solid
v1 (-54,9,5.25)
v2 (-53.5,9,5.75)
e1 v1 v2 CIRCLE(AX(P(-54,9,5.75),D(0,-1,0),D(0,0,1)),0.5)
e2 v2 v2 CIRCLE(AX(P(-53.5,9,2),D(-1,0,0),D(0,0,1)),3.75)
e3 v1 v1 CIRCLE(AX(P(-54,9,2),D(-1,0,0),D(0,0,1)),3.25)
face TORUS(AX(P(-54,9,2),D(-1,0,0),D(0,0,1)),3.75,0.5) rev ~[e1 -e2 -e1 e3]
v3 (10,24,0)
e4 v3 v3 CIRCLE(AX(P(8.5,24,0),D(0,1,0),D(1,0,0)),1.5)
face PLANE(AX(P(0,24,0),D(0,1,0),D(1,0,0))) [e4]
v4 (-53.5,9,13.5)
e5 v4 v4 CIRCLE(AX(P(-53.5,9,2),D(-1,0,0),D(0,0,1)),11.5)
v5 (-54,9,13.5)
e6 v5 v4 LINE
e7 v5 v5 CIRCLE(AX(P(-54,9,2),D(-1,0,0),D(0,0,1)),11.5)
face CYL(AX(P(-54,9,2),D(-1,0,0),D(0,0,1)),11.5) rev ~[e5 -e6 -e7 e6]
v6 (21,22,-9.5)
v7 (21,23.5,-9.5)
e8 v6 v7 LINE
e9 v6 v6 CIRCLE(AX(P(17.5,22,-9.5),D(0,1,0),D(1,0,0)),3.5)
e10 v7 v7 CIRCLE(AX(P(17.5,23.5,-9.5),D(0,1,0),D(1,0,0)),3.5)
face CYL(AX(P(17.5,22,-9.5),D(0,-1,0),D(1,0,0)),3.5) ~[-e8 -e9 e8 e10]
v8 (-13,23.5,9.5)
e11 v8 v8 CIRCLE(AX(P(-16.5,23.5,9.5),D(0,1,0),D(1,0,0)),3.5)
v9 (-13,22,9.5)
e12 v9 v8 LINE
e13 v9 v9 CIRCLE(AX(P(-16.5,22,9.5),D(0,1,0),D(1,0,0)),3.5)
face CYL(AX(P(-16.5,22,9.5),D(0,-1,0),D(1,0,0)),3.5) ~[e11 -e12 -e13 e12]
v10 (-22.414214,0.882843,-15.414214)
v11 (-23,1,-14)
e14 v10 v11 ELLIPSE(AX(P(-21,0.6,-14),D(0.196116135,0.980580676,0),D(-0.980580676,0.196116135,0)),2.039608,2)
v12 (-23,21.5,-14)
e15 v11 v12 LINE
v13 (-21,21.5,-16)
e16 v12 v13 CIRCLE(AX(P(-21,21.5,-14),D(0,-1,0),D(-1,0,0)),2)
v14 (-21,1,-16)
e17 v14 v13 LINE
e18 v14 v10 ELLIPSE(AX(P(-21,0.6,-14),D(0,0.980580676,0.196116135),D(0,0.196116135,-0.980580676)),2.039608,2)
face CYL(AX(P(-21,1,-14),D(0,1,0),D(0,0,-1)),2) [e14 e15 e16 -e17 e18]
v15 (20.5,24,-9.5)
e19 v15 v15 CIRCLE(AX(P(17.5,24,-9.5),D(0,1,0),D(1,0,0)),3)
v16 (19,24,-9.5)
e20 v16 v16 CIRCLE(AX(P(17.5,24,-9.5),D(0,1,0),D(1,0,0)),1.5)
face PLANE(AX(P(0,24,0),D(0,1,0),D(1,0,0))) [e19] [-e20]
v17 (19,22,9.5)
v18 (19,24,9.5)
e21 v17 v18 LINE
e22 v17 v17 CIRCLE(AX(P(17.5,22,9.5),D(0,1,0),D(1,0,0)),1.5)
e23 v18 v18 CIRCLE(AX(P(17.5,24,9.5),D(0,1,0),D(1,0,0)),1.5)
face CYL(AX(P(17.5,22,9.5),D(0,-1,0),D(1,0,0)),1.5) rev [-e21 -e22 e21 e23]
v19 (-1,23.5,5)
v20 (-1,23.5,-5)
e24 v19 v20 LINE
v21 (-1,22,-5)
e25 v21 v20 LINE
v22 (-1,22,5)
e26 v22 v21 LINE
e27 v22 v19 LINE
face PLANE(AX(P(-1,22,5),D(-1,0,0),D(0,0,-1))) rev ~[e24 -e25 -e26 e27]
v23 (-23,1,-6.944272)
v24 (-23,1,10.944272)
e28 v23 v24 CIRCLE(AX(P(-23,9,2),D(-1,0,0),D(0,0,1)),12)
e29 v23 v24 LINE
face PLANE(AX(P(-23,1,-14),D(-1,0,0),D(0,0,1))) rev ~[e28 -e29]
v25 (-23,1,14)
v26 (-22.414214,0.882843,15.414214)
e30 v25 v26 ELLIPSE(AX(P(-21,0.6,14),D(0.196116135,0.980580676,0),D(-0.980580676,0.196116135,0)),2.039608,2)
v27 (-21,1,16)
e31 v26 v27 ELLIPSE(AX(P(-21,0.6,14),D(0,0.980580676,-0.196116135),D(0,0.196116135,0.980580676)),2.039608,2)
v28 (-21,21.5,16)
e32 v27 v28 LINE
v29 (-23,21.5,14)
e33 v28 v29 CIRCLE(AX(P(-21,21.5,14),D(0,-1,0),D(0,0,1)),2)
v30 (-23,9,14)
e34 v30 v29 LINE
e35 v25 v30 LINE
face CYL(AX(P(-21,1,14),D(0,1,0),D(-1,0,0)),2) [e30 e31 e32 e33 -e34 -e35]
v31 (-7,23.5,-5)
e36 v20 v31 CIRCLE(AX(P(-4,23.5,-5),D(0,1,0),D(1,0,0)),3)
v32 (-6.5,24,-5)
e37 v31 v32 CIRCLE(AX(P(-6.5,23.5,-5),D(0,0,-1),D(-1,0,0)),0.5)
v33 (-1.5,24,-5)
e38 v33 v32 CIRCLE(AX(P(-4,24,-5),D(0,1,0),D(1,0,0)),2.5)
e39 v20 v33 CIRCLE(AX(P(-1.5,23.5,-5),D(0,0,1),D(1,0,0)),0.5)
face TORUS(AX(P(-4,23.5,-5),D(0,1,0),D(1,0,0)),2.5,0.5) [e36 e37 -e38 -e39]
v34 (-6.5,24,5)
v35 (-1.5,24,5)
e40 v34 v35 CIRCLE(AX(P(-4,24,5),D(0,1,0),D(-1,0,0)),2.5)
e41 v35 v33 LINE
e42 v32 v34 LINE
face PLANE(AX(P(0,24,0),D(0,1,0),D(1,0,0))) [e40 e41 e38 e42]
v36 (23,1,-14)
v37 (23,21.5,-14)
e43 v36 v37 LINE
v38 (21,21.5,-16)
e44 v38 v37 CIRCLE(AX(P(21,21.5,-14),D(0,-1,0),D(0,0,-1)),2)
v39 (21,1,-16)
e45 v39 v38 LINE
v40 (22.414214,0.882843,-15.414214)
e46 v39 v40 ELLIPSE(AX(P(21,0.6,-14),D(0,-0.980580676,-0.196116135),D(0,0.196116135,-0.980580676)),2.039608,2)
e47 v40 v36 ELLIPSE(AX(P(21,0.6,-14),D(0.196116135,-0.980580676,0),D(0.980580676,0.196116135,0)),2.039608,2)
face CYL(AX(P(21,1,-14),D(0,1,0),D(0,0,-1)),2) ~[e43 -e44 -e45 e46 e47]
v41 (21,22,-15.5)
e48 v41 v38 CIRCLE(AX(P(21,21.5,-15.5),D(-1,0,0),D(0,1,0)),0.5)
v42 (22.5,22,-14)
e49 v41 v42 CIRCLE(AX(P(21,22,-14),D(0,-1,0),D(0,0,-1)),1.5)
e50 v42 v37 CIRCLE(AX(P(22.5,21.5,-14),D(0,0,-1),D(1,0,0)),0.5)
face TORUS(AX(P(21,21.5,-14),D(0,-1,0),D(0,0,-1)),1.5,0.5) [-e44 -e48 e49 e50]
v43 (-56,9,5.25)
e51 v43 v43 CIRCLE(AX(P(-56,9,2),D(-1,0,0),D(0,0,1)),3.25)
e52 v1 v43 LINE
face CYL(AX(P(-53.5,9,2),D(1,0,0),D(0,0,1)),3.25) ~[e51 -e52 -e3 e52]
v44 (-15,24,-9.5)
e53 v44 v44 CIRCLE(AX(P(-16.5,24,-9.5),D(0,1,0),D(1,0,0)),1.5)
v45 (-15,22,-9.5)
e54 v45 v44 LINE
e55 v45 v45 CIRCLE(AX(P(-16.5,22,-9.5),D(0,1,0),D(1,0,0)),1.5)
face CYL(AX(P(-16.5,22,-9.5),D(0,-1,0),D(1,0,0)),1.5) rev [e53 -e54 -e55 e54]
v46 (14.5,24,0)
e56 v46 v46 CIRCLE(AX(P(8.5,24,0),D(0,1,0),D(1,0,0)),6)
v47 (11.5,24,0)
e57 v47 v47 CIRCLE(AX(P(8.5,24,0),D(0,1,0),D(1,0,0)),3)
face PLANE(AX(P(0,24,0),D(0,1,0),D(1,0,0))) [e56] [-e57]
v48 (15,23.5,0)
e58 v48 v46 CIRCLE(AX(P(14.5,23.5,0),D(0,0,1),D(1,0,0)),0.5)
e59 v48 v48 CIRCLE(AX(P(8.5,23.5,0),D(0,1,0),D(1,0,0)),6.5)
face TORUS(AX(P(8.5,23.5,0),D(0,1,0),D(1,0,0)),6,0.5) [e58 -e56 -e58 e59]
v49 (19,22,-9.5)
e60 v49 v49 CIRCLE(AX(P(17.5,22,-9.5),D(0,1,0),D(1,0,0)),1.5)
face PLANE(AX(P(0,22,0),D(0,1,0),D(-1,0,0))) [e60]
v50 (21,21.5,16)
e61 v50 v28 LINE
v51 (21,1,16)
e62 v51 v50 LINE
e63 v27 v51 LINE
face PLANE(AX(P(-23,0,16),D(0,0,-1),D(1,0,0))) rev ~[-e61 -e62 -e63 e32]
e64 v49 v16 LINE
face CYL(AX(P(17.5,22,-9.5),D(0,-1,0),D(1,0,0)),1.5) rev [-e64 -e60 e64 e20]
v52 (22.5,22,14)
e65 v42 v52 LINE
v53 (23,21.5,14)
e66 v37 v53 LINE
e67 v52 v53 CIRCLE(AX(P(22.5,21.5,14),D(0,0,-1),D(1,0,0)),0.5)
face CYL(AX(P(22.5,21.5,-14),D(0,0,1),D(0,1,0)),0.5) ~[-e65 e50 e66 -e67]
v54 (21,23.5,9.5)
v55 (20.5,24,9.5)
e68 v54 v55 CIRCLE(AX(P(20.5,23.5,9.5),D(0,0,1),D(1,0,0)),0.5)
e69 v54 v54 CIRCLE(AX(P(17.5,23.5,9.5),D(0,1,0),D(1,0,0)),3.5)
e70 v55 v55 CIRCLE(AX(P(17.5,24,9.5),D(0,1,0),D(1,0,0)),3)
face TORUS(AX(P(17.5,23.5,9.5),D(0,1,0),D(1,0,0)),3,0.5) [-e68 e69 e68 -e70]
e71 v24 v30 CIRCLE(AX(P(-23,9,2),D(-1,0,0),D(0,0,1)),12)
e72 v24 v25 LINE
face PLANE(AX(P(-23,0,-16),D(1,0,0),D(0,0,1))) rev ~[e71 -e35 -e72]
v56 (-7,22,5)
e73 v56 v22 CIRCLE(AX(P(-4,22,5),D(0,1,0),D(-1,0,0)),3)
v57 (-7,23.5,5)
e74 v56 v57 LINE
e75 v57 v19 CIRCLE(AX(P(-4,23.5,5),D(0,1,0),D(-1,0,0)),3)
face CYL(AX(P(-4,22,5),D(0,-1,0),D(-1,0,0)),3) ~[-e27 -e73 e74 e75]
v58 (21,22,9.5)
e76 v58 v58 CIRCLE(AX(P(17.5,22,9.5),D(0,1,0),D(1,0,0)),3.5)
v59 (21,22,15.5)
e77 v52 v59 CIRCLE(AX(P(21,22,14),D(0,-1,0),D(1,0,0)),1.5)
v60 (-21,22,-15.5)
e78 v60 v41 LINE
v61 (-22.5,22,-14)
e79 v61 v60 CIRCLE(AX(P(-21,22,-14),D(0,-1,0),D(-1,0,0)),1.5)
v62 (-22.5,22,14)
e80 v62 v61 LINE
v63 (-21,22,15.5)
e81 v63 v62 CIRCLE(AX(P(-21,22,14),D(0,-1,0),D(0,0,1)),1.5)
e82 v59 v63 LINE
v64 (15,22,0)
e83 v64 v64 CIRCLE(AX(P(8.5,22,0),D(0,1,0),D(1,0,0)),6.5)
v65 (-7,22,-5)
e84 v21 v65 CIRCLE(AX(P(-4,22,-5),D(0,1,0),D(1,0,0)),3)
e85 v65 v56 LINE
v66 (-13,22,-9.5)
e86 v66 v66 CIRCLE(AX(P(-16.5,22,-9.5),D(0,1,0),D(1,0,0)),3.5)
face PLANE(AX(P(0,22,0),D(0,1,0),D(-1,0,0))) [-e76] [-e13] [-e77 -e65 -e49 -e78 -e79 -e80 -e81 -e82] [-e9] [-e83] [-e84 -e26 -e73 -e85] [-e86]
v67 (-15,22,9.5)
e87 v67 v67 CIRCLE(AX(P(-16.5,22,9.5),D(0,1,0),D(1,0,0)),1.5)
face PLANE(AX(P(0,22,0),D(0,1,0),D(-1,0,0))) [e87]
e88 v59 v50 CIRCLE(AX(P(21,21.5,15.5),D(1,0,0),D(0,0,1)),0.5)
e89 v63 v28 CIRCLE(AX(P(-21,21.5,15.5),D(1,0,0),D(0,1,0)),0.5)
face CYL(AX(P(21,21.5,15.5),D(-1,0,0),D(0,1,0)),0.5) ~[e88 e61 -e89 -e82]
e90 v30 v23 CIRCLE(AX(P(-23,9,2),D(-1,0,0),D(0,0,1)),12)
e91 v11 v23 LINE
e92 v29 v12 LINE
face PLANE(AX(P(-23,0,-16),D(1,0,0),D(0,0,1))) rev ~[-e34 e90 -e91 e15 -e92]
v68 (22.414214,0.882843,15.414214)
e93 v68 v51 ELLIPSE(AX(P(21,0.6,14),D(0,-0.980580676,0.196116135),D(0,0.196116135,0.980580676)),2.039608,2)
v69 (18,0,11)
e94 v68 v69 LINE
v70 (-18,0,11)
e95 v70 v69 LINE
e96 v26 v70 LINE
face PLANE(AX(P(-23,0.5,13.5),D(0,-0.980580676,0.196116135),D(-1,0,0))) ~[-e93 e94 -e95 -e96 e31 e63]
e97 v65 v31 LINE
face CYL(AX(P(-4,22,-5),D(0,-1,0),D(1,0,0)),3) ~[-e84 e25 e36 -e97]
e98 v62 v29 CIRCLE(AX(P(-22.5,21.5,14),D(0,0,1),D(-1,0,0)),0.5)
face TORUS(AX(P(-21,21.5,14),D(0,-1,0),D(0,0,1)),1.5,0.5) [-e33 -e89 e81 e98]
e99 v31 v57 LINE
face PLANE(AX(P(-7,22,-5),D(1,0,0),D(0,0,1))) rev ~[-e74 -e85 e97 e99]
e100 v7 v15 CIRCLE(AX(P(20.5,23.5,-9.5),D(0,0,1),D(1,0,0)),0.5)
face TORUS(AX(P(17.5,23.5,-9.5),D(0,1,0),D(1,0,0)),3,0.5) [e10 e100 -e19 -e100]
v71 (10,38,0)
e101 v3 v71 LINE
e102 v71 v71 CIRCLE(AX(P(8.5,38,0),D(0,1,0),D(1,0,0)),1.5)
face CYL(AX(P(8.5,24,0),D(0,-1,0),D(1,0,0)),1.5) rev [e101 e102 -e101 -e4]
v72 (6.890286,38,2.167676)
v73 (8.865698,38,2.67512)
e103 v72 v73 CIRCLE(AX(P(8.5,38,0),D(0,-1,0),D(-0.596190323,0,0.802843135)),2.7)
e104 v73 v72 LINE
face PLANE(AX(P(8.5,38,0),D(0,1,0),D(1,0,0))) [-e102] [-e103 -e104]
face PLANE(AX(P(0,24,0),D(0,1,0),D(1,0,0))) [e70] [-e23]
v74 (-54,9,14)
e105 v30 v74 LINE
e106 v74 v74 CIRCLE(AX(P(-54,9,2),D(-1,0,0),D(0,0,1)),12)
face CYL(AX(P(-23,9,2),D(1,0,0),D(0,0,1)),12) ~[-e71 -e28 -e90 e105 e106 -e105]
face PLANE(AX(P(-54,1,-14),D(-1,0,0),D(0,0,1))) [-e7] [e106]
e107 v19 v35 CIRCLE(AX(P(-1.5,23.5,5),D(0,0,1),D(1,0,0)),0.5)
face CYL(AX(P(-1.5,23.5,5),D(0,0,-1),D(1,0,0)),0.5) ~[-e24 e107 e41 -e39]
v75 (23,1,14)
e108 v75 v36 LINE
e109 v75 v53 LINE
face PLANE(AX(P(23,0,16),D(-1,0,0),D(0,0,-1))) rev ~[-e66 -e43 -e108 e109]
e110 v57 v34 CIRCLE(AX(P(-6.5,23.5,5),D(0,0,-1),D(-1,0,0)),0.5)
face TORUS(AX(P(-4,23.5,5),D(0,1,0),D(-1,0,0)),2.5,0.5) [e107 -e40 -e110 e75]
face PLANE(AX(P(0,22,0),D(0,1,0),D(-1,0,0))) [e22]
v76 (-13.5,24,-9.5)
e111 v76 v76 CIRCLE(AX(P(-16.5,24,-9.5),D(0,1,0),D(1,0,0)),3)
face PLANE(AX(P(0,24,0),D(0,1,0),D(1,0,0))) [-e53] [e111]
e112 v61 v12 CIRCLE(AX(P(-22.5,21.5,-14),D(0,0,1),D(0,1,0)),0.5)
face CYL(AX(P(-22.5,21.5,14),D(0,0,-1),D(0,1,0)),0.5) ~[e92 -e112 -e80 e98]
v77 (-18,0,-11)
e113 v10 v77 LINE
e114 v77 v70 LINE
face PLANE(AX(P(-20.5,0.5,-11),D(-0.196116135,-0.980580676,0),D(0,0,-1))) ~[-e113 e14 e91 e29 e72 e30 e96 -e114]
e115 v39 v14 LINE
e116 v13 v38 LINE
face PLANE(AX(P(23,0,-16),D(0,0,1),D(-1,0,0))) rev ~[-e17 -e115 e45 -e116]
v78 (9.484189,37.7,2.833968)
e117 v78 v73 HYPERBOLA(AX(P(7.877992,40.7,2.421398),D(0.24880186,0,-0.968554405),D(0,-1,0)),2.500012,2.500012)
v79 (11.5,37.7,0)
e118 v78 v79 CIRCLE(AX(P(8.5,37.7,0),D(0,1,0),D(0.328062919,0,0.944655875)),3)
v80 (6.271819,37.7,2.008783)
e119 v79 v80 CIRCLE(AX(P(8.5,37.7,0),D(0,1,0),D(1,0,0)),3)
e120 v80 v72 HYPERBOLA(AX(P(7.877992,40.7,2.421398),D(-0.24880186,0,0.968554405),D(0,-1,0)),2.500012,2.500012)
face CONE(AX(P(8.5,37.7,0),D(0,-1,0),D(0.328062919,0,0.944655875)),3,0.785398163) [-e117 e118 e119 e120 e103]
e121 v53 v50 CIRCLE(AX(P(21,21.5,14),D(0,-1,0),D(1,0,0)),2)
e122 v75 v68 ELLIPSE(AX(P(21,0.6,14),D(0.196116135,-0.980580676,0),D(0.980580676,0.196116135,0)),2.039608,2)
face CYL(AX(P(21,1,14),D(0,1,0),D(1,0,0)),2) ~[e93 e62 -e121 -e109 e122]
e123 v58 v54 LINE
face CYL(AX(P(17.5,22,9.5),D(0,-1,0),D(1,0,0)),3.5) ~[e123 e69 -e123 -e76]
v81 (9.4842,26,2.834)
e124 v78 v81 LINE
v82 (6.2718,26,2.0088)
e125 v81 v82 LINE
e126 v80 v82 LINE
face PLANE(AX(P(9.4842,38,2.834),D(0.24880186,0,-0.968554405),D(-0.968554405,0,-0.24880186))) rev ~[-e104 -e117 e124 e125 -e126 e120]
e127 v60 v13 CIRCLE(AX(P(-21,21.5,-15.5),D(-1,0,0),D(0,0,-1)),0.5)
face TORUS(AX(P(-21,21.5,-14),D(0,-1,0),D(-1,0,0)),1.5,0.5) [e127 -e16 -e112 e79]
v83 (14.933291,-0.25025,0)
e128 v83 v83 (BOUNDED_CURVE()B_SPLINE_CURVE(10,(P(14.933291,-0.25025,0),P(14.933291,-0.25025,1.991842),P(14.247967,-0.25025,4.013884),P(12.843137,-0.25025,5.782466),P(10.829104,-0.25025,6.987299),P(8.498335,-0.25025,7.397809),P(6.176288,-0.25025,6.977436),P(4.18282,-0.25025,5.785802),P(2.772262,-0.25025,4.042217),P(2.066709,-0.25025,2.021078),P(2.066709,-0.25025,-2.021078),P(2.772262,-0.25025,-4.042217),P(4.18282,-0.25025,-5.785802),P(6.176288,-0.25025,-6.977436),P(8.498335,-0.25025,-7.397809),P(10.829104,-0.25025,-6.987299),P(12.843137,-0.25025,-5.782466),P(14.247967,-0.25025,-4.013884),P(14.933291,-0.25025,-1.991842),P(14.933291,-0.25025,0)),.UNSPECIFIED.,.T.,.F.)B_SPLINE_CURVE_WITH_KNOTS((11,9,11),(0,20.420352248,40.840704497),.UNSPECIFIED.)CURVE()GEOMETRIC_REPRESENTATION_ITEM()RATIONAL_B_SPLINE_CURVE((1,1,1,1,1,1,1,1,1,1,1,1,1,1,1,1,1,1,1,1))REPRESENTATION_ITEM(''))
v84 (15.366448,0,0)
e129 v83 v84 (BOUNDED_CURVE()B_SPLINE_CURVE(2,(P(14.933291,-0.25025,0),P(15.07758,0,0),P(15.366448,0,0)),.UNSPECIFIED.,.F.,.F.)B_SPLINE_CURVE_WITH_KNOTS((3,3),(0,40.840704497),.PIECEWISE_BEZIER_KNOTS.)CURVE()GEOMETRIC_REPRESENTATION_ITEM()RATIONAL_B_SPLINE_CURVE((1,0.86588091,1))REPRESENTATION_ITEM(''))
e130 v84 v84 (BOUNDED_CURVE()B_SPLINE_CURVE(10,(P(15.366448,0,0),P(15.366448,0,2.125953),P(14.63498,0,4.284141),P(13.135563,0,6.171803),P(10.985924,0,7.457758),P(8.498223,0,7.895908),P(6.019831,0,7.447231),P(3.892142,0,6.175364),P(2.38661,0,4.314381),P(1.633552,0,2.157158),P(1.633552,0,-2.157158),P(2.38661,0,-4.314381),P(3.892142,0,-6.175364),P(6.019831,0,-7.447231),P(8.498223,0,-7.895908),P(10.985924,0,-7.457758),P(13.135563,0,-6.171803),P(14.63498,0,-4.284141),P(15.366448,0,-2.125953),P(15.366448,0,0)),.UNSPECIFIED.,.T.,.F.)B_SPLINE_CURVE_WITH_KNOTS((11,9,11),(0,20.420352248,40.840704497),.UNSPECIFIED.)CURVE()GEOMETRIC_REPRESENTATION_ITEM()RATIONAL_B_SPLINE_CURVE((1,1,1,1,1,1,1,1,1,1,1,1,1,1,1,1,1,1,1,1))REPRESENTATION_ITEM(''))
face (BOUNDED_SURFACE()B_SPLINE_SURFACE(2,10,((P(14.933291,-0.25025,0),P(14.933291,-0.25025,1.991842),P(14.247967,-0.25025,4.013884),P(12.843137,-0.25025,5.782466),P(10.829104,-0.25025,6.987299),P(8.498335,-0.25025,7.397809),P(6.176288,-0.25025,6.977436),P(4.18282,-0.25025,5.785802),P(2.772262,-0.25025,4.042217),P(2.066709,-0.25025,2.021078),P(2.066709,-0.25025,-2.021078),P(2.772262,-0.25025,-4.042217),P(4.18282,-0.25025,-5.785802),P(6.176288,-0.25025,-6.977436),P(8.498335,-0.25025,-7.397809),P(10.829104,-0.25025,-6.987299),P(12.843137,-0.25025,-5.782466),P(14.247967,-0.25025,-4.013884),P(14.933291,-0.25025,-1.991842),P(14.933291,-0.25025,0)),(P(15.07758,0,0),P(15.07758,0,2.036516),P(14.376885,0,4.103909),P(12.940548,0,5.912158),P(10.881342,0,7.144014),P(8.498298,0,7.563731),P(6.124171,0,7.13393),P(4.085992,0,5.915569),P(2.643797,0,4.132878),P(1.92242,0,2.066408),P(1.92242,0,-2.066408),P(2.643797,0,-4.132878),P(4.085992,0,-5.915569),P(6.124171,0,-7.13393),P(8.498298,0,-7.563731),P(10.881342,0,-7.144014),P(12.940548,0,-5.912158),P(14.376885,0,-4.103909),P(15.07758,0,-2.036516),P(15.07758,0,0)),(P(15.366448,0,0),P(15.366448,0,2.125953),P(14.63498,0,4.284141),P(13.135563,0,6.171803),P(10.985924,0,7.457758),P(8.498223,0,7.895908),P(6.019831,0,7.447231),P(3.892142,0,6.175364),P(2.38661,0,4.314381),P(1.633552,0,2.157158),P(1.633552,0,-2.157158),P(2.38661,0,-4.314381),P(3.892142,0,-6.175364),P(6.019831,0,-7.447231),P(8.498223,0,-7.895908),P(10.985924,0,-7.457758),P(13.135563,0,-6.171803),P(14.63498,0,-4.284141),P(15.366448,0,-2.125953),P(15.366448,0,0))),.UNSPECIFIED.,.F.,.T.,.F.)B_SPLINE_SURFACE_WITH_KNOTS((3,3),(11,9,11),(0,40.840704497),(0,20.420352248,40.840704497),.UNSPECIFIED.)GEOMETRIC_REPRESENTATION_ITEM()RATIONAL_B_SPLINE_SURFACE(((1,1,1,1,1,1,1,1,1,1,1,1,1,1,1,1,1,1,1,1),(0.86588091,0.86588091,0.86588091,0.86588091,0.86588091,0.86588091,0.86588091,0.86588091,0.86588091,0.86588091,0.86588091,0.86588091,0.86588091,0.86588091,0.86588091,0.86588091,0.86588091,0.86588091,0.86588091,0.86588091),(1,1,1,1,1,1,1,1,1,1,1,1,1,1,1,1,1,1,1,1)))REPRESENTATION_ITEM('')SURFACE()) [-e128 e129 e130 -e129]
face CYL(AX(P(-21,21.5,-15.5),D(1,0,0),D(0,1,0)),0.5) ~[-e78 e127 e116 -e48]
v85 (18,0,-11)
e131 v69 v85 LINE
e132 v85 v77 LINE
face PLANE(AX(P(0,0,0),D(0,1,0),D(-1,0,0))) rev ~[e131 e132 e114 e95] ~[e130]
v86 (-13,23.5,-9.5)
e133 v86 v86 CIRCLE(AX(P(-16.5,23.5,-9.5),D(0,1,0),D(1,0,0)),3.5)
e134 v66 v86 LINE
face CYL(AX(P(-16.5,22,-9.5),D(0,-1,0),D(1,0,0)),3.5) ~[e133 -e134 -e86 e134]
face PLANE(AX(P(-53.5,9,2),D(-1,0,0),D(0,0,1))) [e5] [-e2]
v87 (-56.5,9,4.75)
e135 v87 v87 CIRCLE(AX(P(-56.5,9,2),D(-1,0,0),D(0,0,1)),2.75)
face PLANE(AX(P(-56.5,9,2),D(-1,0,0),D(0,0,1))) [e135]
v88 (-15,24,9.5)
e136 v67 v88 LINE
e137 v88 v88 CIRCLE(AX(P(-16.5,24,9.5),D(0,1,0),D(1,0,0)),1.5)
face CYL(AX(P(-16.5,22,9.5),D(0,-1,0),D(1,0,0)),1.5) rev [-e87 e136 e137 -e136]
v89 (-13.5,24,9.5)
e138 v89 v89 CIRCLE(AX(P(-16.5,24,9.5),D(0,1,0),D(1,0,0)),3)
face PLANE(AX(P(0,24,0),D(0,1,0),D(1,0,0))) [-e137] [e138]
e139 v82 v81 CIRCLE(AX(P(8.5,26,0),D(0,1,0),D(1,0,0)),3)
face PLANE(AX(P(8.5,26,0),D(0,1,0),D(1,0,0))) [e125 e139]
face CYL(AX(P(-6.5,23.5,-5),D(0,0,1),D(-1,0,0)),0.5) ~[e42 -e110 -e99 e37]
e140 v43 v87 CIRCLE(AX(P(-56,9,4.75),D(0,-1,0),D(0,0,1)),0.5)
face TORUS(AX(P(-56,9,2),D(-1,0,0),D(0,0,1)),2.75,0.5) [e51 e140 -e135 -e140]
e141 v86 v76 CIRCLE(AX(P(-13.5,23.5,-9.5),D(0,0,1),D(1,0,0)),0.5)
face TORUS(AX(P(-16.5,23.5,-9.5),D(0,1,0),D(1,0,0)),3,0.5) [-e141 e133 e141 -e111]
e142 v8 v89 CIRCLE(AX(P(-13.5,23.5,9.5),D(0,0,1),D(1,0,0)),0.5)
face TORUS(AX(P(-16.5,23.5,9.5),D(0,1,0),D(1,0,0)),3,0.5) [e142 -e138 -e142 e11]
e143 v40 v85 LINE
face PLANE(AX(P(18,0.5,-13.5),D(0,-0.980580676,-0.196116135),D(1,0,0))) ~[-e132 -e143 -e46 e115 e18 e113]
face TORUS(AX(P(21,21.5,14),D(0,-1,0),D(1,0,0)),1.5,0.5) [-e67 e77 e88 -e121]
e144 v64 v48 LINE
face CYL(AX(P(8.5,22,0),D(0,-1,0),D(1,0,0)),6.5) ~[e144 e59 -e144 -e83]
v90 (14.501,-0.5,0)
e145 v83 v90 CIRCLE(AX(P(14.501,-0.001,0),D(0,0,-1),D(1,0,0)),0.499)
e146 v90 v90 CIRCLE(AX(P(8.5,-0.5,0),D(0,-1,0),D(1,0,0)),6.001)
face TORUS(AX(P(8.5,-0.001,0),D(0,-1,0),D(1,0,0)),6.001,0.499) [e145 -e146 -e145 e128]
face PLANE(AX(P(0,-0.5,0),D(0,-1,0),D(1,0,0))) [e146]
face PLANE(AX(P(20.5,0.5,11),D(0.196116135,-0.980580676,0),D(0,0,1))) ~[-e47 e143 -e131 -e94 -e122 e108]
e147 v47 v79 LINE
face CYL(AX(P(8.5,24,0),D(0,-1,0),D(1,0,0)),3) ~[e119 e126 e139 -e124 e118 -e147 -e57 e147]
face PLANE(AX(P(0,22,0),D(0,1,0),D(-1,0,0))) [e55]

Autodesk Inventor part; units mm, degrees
ref_plane "YZ Plane" through (0, 0, 0) normal (1, 0, 0) x (0, 1, 0)
ref_plane "XZ Plane" through (0, 0, 0) normal (0, 1, 0) x (-1, 0, 0)
ref_plane "XY Plane" through (0, 0, 0) normal (0, 0, 1) x (1, 0, 0)
sketch "Sketch1" plane through (0, 0, 0) normal (0, 1, 0) x (-1, 0, 0)
  line L0 (23, 16) -> (-23, 16)
  line L1 (-23, 16) -> (-23, -16)
  line L2 (-23, -16) -> (23, -16)
  line L3 (23, -16) -> (23, 16)
  line L4 (-23, 16) -> (23, -16) construction
  point P0 (0, 0)
  point P1 (0, 0)
  dimension "d0" = 32
  dimension "d1" = 46
extrude "Extrusion1" add sketch "Sketch1" along normal blind 22
chamfer "Chamfer1" distance 1 distance2 5 1 edges at (0, 0, 16) measured on face at (-7.6667, 14.6667, 16)
chamfer "Chamfer2" distance 1 distance2 5 1 edges at (23, 0, -2.5) measured on face at (23, 14.6667, 3.6667)
chamfer "Chamfer3" distance 1 distance2 5 1 edges at (-2.5, 0, -16) measured on face at (6, 14.6667, -16)
chamfer "Chamfer4" distance 1 distance2 5 1 edges at (-23, 0, 0) measured on face at (-23, 14.6667, 3.6667)
fillet "Fillet1" radius 2 4 edges at (23, 11.5, -16) (23, 11.5, 16) (-23, 11.5, 16) (-23, 11.5, -16)
sketch "Sketch2" plane through (0, 22, 0) normal (0, 1, 0) x (1, 0, 0)
  circle A0 centre (-16.5, -9.5) radius 3.5
  circle A1 centre (-16.5, -9.5) radius 1.5
  line L0 (-21, -16) -> (21, -16) projected
  line L1 (-23, 14) -> (-23, -14) projected
  line L2 (-23, -14) -> (-23, 14) construction
  line L3 (-23, 0) -> (23, 0) construction
  line L4 (23, 14) -> (23, -14) construction
  circle A2 centre (-16.5, 9.5) radius 3.5
  circle A3 centre (-16.5, 9.5) radius 1.5
  circle A4 centre (17.5, -9.5) radius 3.5
  circle A5 centre (17.5, -9.5) radius 1.5
  circle A6 centre (17.5, 9.5) radius 3.5
  circle A7 centre (17.5, 9.5) radius 1.5
  circle A8 centre (8.5, 0) radius 6.5
  line L5 (21, 16) -> (-21, 16) projected
  line L6 (-4, 5) -> (-4, -5) construction
  line L7 (-7, 5) -> (-7, -5)
  line L8 (-1, -5) -> (-1, 5)
  arc A9 (-1, 5) -> (-7, 5) centre (-4, 5) ccw
  arc A10 (-7, -5) -> (-1, -5) centre (-4, -5) ccw
  point P0 (0, 0)
  point P1 (-4, 0)
  dimension "d17" = 7
  dimension "d18" = 3
  dimension "d19" = 6.5
  dimension "d20" = 6.5
  dimension "d21" = 7
  dimension "d22" = 3
  dimension "d23" = 6.5
  dimension "d24" = 5.5
  dimension "d27" = 13
  dimension "d28" = 14.5
  dimension "d29" = 32
  dimension "d30" = 16
  dimension "d31" = 6
  dimension "d32" = 3
  dimension "d33" = 10
  dimension "d34" = 5
  dimension "d35" = 9.5
extrude "Extrusion2" add sketch "Sketch2" along normal blind 2
fillet "Fillet2" radius 0.5 17 edges at (-20, 24, -9.5) (-4, 24, 8) (-1, 24, 0) (-4, 24, -8) (-7, 24, 0) (-20, 24, 9.5) (2, 24, 0) (14, 24, 9.5) (14, 24, -9.5) (22.4142, 22, 15.4142) (23, 22, 0) (22.4142, 22, -15.4142) (0, 22, -16) (-22.4142, 22, -15.4142) (-23, 22, 0) (-22.4142, 22, 15.4142) (0, 22, 16)
sketch "Sketch3" plane through (8.5, 24, 0) normal (0, 1, 0) x (1, 0, 0)
  circle A0 centre (0, 0) radius 3
  circle A1 centre (0, 0) radius 1.5
  circle A2 centre (0, 0) radius 6 projected
  point P0 (-8.5, 0)
  dimension "d37" = 6
  dimension "d38" = 3
extrude "Extrusion3" add sketch "Sketch3" along normal blind 14 contours A0
sketch "Sketch4" plane through (8.5, 38, 0) normal (0, 1, 0) x (1, 0, 0)
  circle A0 centre (0, 0) radius 3 projected
  line L0 (0.9842, -2.834) -> (-2.2282, -2.0088)
  line L1 (-0.5042, 3.2269) -> (1.6442, 2.675) construction
  point P0 (-8.5, 0)
  dimension "d41" = 5.5
extrude "Extrusion4" cut sketch "Sketch4" against normal blind 12 contours L0 A0 picked at (-0.3149, -2.6093)
chamfer "Chamfer5" distance 0.3 angle 45 2 edges at (10.9446, 38, 1.7389) (7.424, 38, -2.8004)
thread "Thread1" size "M3x0.5" class "6H" standard "ANSI Metric M Profile" full length
thread "Thread2" size "M3x0.5" class "6H" standard "ANSI Metric M Profile" full length
thread "Thread3" size "M3x0.5" class "6H" standard "ANSI Metric M Profile" full length
thread "Thread4" size "M3x0.5" class "6H" standard "ANSI Metric M Profile" full length
thread "Thread5" size "M3x0.5" class "6H" standard "ANSI Metric M Profile" full length
sketch "Sketch5" plane through (-23, 1, -14) normal (-1, 0, 0) x (0, 0, 1)
  circle A0 centre (16, 8) radius 12
  line L0 (28, 20.5) -> (28, 0) projected
  line L1 (0, 20.5) -> (28, 20.5) projected
  point P0 (14, -1)
  dimension "d57" = 24
  dimension "d58" = 12
  dimension "d59" = 0.5
extrude "Extrusion5" add sketch "Sketch5" along normal blind 31
sketch "Sketch6" plane through (-54, 9, 2) normal (-1, 0, 0) x (0, 0, 1)
  circle A0 centre (0, 0) radius 11.5
  circle A1 centre (0, 0) radius 12 projected
  point P0 (-2, -9)
  dimension "d62" = 0.5
extrude "Extrusion6" cut sketch "Sketch6" against normal blind 0.5 contours A0
sketch "Sketch7" plane through (-53.5, 9, 2) normal (-1, 0, 0) x (0, 0, 1)
  circle A0 centre (0, 0) radius 3.25
  circle A1 centre (0, 0) radius 11.5 projected
  point P0 (-2, -9)
  dimension "d65" = 6.5
extrude "Extrusion7" add sketch "Sketch7" along normal blind 3 contours A0
sketch "Sketch8" plane through (0, 0, 0) normal (0, -1, 0) x (1, 0, 0)
  circle A0 centre (8.5, 0) radius 6.5
  line L0 (18, 11) -> (18, -11) projected
  line L1 (18, -11) -> (-18, -11) projected
  line L2 (-18, 11) -> (18, 11) projected
  point P0 (0, 0)
  dimension "d69" = 13
  dimension "d70" = 3
  dimension "d71" = 22
  dimension "d72" = 11
extrude "Extrusion8" add sketch "Sketch8" along normal blind 0.5
fillet "Fillet3" radius 0.5 4 edges at (-56.5, 9, -1.25) (-53.5, 9, -1.25) (2, -0.5, 0) (2, 0, 0)
equation "\"d20\" = d19"
equation "\"d21\" = d17"
equation "\"d22\" = d18"
equation "\"d30\" = 0.5 * d29"
equation "\"d34\" = 0.5 * d33"
equation "\"d58\" = 0.5 * d57"
equation "\"d72\" = 0.5 * d71"
properties part number "motor+Gearbox"
